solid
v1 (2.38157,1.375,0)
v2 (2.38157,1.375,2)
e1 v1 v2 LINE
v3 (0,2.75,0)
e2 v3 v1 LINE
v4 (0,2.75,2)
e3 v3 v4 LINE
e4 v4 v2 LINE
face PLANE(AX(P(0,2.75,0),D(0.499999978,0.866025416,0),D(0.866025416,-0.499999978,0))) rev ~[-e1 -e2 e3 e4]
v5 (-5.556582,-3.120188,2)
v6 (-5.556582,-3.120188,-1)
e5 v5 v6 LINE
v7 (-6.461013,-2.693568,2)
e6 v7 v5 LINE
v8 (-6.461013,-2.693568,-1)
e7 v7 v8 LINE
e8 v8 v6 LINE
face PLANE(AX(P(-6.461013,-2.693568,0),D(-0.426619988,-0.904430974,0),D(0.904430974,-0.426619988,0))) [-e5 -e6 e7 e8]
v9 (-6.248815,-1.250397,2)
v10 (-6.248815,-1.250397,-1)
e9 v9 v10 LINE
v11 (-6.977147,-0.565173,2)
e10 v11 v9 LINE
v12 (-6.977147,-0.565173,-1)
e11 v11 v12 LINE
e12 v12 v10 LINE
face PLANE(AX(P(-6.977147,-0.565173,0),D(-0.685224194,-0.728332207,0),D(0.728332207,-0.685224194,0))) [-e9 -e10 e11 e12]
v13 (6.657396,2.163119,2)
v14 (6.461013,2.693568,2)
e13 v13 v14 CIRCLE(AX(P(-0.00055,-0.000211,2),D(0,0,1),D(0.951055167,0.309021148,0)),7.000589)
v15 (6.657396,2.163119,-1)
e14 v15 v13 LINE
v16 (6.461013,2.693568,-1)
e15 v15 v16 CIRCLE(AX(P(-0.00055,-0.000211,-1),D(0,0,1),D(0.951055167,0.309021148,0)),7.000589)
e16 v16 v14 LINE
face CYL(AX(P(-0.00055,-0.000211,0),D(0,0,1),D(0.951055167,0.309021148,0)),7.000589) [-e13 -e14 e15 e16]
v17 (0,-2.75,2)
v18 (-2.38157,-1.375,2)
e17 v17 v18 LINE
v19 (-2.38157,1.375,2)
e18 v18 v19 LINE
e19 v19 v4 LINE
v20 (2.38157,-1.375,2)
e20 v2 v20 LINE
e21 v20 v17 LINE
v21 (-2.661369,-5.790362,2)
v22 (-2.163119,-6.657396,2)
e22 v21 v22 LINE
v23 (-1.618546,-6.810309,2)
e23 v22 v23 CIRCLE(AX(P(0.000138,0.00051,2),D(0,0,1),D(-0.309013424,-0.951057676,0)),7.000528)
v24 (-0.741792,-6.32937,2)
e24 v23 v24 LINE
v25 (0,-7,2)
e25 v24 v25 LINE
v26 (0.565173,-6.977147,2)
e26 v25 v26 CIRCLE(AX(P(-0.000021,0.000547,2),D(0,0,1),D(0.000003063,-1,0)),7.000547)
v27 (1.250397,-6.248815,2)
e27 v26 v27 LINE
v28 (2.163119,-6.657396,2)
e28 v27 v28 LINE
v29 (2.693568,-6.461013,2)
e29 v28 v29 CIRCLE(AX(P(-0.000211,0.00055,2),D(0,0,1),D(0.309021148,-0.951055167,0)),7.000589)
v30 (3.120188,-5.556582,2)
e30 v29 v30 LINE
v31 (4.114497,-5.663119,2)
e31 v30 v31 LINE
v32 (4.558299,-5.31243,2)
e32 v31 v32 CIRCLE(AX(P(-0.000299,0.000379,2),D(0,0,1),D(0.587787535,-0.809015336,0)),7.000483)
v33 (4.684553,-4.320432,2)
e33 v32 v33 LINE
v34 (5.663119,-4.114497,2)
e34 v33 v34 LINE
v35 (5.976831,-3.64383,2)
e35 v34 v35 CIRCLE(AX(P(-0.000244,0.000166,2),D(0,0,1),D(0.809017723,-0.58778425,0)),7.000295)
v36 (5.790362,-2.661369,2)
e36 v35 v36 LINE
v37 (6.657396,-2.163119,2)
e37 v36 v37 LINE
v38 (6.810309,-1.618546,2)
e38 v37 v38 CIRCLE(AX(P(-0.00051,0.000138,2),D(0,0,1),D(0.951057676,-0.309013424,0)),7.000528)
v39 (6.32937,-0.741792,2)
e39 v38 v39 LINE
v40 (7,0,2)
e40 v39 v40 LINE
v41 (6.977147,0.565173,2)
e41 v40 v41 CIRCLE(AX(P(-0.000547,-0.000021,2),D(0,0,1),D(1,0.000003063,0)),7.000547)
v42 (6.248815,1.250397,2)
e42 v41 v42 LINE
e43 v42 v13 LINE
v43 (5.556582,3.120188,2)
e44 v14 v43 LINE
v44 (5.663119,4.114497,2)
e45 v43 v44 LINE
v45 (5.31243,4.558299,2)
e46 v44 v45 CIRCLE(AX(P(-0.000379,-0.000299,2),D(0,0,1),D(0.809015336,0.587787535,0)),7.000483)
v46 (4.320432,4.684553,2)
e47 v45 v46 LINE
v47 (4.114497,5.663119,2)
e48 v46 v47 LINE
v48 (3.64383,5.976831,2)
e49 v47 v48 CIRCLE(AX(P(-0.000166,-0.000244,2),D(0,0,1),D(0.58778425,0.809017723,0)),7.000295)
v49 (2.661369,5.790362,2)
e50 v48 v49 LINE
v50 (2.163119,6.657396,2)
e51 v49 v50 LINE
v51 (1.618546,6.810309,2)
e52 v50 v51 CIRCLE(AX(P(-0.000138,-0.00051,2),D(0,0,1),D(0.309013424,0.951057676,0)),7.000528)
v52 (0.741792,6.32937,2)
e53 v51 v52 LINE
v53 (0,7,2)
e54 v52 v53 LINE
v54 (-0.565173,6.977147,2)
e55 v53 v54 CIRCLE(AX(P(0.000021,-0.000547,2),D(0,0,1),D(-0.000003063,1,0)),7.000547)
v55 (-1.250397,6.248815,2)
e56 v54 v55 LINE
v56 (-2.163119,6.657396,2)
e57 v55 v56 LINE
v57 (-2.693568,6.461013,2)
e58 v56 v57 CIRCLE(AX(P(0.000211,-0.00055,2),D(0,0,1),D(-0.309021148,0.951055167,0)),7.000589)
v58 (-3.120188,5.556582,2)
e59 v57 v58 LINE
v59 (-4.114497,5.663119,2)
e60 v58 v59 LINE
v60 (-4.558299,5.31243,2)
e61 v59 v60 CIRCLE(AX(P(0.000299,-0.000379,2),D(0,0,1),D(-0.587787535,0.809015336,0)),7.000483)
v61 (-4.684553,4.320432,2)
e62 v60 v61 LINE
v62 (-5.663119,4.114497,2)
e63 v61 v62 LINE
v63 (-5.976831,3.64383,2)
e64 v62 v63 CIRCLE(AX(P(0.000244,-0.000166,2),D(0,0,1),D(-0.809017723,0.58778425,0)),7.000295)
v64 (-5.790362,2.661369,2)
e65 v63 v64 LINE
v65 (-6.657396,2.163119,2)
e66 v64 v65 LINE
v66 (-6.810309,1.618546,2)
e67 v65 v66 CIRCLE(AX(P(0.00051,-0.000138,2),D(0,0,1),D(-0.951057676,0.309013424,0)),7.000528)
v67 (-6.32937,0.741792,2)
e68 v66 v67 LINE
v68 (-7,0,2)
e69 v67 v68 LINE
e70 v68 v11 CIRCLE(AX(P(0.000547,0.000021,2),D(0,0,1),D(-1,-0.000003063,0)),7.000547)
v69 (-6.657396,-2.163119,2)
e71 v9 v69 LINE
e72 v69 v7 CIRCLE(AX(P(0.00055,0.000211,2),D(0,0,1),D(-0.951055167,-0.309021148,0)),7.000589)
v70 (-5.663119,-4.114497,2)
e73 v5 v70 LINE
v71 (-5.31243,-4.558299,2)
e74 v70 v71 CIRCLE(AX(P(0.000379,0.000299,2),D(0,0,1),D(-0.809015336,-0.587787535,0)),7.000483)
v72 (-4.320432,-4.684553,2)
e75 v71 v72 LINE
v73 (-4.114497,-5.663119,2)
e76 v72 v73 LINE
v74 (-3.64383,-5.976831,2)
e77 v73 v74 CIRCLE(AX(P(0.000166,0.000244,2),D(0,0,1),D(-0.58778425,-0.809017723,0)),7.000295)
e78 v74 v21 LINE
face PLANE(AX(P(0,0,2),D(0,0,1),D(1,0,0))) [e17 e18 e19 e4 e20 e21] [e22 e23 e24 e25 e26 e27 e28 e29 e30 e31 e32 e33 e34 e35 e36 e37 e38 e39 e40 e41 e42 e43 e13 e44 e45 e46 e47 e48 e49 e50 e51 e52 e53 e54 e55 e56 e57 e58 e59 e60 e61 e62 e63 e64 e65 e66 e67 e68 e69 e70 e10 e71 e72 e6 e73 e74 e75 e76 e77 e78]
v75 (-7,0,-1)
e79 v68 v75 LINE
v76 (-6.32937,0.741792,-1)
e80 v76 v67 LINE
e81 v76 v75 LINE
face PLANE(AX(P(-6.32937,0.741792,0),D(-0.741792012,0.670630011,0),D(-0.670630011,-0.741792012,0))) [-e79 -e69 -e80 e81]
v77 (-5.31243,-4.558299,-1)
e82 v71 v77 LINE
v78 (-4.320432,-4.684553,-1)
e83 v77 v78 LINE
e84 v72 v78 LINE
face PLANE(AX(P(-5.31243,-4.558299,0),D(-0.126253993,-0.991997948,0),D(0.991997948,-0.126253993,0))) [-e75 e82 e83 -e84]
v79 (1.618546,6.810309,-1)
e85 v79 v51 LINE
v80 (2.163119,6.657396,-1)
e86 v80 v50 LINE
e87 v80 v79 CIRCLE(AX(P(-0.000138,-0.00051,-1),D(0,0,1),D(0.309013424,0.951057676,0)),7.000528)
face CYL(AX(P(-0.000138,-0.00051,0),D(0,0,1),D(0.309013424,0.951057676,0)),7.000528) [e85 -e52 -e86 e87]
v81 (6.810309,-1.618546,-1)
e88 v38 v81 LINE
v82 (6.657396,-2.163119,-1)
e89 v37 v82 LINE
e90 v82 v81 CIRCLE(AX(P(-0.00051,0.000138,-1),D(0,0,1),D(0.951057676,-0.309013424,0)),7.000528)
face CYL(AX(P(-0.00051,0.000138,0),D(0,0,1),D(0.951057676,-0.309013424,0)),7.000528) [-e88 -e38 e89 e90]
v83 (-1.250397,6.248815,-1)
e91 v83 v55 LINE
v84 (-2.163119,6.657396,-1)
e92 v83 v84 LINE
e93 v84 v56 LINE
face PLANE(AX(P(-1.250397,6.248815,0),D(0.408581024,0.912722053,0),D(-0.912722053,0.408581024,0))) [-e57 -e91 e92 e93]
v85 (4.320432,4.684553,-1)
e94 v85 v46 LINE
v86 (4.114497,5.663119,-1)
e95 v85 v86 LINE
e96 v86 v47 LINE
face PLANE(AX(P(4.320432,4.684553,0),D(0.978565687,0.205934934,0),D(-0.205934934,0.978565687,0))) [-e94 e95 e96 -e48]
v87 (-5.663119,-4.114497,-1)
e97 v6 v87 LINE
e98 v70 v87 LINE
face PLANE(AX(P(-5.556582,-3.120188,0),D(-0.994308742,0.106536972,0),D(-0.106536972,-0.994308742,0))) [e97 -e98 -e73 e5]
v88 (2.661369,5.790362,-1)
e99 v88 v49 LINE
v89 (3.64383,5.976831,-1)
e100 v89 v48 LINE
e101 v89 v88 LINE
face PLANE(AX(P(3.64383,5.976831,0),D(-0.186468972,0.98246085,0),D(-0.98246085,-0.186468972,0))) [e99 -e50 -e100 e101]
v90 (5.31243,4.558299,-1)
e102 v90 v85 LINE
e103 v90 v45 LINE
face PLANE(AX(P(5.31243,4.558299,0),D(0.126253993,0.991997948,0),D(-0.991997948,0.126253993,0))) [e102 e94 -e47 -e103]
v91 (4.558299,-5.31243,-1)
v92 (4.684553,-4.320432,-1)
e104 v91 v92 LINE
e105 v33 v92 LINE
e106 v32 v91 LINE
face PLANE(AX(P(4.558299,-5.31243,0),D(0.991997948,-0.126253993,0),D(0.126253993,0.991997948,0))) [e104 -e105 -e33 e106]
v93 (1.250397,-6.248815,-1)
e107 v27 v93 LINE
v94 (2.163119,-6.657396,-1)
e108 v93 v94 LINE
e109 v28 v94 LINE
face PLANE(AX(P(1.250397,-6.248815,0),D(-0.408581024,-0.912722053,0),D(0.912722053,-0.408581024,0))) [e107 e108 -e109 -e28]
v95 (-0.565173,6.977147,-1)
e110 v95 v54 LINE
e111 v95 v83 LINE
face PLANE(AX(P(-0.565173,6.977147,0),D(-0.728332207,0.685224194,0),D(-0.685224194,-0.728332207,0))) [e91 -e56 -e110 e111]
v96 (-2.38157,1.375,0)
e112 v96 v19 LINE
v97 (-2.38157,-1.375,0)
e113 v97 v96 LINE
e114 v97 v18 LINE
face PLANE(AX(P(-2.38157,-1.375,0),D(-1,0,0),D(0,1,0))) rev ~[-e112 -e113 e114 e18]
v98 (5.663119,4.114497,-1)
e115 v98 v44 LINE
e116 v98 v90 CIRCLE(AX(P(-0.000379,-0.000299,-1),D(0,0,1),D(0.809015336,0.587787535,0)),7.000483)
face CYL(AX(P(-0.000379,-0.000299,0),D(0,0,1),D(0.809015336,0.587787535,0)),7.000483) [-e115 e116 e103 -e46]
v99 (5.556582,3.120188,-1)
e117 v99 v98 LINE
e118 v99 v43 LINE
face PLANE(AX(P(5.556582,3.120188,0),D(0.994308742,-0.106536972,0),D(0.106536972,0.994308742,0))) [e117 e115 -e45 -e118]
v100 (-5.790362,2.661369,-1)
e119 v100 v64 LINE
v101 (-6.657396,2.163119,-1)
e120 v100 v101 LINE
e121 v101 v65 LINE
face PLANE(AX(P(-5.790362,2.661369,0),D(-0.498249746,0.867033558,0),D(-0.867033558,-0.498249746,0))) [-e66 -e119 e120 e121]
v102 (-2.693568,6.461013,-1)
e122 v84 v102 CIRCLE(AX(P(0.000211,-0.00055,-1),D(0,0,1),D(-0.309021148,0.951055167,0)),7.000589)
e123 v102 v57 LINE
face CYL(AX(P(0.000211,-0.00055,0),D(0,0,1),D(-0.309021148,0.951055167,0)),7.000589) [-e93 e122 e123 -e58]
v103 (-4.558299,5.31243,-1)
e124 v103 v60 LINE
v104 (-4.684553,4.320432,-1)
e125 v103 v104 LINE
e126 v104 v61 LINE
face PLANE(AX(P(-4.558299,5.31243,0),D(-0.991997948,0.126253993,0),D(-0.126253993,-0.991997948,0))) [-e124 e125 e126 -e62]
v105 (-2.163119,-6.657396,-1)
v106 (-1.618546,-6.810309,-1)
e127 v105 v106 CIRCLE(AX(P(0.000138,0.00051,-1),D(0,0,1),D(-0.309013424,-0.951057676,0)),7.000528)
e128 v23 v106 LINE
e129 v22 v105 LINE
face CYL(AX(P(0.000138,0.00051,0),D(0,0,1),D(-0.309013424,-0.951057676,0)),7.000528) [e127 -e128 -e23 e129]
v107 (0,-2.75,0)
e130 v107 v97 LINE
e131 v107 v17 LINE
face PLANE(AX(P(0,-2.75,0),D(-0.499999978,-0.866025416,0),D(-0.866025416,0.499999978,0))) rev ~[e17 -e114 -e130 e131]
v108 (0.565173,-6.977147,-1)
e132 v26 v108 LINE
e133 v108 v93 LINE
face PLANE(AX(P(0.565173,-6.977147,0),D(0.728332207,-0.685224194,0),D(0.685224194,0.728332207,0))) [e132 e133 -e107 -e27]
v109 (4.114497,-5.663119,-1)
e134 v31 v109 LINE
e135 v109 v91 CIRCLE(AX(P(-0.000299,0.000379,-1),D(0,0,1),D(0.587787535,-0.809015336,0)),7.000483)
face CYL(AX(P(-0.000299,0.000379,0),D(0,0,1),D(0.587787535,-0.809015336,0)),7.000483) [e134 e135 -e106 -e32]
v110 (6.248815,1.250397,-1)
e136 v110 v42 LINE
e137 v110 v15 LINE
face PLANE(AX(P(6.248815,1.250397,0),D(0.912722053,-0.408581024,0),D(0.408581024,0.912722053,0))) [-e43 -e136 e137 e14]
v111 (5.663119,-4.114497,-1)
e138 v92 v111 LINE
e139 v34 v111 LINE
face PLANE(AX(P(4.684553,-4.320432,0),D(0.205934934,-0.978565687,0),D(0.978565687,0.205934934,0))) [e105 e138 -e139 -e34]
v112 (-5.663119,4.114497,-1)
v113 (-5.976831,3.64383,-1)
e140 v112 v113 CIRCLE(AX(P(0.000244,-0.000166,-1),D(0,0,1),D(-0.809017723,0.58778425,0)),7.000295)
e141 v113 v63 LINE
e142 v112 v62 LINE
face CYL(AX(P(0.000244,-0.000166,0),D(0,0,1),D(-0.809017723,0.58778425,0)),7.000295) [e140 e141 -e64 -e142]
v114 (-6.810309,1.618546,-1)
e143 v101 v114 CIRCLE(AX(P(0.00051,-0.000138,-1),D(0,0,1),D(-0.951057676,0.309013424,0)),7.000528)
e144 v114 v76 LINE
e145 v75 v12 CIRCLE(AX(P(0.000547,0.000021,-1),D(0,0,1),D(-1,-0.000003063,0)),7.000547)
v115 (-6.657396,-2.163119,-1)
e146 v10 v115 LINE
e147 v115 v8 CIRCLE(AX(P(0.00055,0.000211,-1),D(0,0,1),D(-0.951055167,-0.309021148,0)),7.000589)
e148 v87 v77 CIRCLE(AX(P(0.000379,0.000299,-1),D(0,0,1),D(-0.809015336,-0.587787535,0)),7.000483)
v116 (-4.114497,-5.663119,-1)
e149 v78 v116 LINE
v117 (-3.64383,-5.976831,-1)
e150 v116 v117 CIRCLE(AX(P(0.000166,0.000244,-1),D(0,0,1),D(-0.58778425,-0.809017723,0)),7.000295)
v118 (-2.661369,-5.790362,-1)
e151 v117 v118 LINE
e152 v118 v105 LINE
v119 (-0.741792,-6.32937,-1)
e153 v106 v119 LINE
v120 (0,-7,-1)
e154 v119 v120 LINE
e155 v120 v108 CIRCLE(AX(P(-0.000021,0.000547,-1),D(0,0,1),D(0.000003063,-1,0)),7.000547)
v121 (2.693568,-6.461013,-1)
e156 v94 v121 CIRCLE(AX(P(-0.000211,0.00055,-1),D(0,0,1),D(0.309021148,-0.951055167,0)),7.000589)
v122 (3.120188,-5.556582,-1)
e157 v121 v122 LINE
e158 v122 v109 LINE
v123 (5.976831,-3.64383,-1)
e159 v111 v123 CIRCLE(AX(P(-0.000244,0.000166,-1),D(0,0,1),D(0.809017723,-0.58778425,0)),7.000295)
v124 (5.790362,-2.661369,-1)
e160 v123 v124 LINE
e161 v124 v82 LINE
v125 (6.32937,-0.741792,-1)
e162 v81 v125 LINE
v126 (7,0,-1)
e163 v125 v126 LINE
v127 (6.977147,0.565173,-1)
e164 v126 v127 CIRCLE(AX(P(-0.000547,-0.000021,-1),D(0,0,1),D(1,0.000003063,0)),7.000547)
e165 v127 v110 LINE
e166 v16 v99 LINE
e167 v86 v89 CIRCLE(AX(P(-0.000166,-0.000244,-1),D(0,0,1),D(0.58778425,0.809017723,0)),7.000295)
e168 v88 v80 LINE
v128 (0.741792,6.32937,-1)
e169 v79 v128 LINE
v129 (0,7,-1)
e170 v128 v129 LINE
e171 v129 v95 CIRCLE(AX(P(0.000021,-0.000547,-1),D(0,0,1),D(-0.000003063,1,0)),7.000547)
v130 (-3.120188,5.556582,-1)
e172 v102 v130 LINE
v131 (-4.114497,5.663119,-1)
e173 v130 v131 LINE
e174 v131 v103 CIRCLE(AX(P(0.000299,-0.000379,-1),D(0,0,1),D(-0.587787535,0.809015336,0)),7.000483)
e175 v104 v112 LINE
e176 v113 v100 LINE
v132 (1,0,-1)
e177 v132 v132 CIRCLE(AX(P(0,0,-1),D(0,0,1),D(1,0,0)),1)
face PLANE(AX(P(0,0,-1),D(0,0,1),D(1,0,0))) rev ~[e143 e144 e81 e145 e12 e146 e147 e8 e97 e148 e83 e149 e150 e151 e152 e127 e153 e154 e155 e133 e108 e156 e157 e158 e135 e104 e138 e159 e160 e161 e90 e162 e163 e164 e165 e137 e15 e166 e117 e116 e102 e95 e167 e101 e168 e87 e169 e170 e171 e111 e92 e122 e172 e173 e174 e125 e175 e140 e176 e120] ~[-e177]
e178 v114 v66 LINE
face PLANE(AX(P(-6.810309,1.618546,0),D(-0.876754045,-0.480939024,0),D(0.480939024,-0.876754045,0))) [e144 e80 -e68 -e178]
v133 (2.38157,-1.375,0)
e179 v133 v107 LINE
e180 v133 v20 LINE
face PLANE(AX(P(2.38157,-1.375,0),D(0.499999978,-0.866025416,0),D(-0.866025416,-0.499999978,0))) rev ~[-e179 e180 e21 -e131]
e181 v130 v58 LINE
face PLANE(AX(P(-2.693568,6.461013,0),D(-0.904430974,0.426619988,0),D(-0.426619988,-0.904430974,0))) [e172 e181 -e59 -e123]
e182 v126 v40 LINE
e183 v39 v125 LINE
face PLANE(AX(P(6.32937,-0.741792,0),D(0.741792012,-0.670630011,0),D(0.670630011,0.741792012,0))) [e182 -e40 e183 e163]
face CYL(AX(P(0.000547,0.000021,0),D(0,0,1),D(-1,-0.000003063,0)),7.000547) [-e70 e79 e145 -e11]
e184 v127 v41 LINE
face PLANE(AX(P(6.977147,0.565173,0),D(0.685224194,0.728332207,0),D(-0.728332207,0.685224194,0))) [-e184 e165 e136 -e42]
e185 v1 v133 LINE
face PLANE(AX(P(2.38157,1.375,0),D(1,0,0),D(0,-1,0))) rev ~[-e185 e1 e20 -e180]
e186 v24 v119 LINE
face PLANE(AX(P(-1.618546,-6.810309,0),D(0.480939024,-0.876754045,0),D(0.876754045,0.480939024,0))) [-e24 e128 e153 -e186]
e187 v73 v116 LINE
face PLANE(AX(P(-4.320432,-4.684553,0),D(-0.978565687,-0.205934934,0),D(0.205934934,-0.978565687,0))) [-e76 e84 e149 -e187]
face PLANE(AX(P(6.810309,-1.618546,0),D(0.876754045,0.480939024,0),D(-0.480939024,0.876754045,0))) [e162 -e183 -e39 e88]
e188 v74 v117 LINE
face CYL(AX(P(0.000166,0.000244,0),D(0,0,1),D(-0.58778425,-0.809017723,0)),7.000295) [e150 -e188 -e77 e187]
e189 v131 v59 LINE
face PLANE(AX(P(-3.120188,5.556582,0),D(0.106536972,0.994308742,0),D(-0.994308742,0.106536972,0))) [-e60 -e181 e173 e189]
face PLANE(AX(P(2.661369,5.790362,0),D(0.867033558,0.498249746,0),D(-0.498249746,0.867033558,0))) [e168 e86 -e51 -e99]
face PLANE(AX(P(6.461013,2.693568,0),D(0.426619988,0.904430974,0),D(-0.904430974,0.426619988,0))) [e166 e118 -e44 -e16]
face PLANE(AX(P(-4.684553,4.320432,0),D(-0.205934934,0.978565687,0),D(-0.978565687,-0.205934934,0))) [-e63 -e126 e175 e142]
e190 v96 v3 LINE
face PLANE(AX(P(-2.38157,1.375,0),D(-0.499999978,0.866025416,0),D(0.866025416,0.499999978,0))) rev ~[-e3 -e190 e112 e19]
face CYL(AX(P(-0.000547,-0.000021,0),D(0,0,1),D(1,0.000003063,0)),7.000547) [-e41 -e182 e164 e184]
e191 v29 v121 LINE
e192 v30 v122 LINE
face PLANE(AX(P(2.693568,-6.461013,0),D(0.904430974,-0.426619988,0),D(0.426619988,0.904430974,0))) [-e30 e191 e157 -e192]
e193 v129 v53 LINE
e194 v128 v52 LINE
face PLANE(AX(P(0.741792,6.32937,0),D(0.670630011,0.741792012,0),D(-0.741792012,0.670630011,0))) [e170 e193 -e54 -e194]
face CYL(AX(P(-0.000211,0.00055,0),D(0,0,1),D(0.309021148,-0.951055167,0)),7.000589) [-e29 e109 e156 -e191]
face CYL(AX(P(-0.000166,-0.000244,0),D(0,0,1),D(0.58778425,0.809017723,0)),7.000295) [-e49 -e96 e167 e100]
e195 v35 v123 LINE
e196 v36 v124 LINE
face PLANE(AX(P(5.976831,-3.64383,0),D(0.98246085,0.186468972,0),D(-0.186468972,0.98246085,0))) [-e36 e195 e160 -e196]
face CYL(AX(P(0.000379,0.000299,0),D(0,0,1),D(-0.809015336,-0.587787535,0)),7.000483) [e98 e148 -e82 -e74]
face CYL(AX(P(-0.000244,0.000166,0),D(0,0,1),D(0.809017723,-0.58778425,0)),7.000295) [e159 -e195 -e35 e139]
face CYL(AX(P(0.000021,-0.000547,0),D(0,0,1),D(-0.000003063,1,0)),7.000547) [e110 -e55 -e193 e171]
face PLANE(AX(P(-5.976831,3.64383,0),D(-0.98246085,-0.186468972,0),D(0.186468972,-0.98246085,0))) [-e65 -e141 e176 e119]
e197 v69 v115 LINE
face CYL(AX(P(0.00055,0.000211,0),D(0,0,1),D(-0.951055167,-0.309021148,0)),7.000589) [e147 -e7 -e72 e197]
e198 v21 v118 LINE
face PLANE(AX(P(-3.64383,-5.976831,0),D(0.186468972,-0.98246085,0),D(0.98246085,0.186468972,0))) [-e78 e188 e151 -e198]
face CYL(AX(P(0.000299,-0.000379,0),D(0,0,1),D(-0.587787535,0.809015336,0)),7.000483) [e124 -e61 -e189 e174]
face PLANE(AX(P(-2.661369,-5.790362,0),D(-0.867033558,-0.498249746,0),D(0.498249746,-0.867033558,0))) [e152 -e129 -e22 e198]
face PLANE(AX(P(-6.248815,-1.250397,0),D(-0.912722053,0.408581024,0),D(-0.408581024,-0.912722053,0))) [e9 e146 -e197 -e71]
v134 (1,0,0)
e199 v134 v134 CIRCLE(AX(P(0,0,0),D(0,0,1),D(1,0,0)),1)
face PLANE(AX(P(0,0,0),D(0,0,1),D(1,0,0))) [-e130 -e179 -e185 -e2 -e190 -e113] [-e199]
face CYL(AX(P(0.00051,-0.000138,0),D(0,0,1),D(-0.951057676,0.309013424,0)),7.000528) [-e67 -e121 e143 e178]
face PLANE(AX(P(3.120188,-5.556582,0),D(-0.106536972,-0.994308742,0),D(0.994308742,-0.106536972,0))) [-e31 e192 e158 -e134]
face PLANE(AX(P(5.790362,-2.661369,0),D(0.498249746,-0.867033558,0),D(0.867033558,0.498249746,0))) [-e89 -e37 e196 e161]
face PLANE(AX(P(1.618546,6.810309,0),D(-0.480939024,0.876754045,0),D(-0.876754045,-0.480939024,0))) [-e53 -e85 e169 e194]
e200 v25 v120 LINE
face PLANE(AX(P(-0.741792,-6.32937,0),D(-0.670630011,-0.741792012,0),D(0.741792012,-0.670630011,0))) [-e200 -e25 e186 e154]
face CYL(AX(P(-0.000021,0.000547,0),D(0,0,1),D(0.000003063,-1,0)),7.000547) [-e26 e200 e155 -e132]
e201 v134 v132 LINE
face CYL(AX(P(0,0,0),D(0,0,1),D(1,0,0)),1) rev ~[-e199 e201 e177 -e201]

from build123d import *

# Parameters (mm, degrees)
F1_DEPTH = 2
F0_R     = 1
F2_DEPTH = 1


with BuildPart() as f1:
    # F0 (on Top) → F1 (new body)
    with BuildSketch(Plane.XY):
        with BuildLine():
            Line((6.32937, -0.741792), (7, 0))
            ThreePointArc((7, 0), (6.994284, 0.282817), (6.977147, 0.565173))
            Line((6.977147, 0.565173), (6.248815, 1.250397))
            Line((6.248815, 1.250397), (6.657396, 2.163119))
            ThreePointArc((6.657396, 2.163119), (6.564564, 2.430328), (6.461013, 2.693568))
            Line((6.461013, 2.693568), (5.556582, 3.120188))
            Line((5.556582, 3.120188), (5.663119, 4.114497))
            ThreePointArc((5.663119, 4.114497), (5.492259, 4.339941), (5.31243, 4.558299))
            Line((5.31243, 4.558299), (4.320432, 4.684553))
            Line((4.320432, 4.684553), (4.114497, 5.663119))
            ThreePointArc((4.114497, 5.663119), (3.882333, 5.824731), (3.64383, 5.976831))
            Line((3.64383, 5.976831), (2.661369, 5.790362))
            Line((2.661369, 5.790362), (2.163119, 6.657396))
            ThreePointArc((2.163119, 6.657396), (1.892377, 6.739355), (1.618546, 6.810309))
            Line((1.618546, 6.810309), (0.741792, 6.32937))
            Line((0.741792, 6.32937), (0, 7))
            ThreePointArc((0, 7), (-0.282817, 6.994284), (-0.565173, 6.977147))
            Line((-0.565173, 6.977147), (-1.250397, 6.248815))
            Line((-1.250397, 6.248815), (-2.163119, 6.657396))
            ThreePointArc((-2.163119, 6.657396), (-2.430328, 6.564564), (-2.693568, 6.461013))
            Line((-2.693568, 6.461013), (-3.120188, 5.556582))
            Line((-3.120188, 5.556582), (-4.114497, 5.663119))
            ThreePointArc((-4.114497, 5.663119), (-4.339941, 5.492259), (-4.558299, 5.31243))
            Line((-4.558299, 5.31243), (-4.684553, 4.320432))
            Line((-4.684553, 4.320432), (-5.663119, 4.114497))
            ThreePointArc((-5.663119, 4.114497), (-5.824731, 3.882333), (-5.976831, 3.64383))
            Line((-5.976831, 3.64383), (-5.790362, 2.661369))
            Line((-5.790362, 2.661369), (-6.657396, 2.163119))
            ThreePointArc((-6.657396, 2.163119), (-6.739355, 1.892377), (-6.810309, 1.618546))
            Line((-6.810309, 1.618546), (-6.32937, 0.741792))
            Line((-6.32937, 0.741792), (-7, 0))
            ThreePointArc((-7, 0), (-6.994284, -0.282817), (-6.977147, -0.565173))
            Line((-6.977147, -0.565173), (-6.248815, -1.250397))
            Line((-6.248815, -1.250397), (-6.657396, -2.163119))
            ThreePointArc((-6.657396, -2.163119), (-6.564564, -2.430328), (-6.461013, -2.693568))
            Line((-6.461013, -2.693568), (-5.556582, -3.120188))
            Line((-5.556582, -3.120188), (-5.663119, -4.114497))
            ThreePointArc((-5.663119, -4.114497), (-5.492259, -4.339941), (-5.31243, -4.558299))
            Line((-5.31243, -4.558299), (-4.320432, -4.684553))
            Line((-4.320432, -4.684553), (-4.114497, -5.663119))
            ThreePointArc((-4.114497, -5.663119), (-3.882333, -5.824731), (-3.64383, -5.976831))
            Line((-3.64383, -5.976831), (-2.661369, -5.790362))
            Line((-2.661369, -5.790362), (-2.163119, -6.657396))
            ThreePointArc((-2.163119, -6.657396), (-1.892377, -6.739355), (-1.618546, -6.810309))
            Line((-1.618546, -6.810309), (-0.741792, -6.32937))
            Line((-0.741792, -6.32937), (0, -7))
            ThreePointArc((0, -7), (0.282817, -6.994284), (0.565173, -6.977147))
            Line((0.565173, -6.977147), (1.250397, -6.248815))
            Line((1.250397, -6.248815), (2.163119, -6.657396))
            ThreePointArc((2.163119, -6.657396), (2.430328, -6.564564), (2.693568, -6.461013))
            Line((2.693568, -6.461013), (3.120188, -5.556582))
            Line((3.120188, -5.556582), (4.114497, -5.663119))
            ThreePointArc((4.114497, -5.663119), (4.339941, -5.492259), (4.558299, -5.31243))
            Line((4.558299, -5.31243), (4.684553, -4.320432))
            Line((4.684553, -4.320432), (5.663119, -4.114497))
            ThreePointArc((5.663119, -4.114497), (5.824731, -3.882333), (5.976831, -3.64383))
            Line((5.976831, -3.64383), (5.790362, -2.661369))
            Line((5.790362, -2.661369), (6.657396, -2.163119))
            ThreePointArc((6.657396, -2.163119), (6.739355, -1.892377), (6.810309, -1.618546))
            Line((6.810309, -1.618546), (6.32937, -0.741792))
        make_face()
        Polygon((2.38157, -1.375), (0, -2.75), (-2.38157, -1.375), (-2.38157, 1.375), (0, 2.75), (2.38157, 1.375), align=None, mode=Mode.SUBTRACT)
    extrude(amount=F1_DEPTH)

    # F0 (on Top) → F2 (join)
    with BuildSketch(Plane.XY):
        with BuildLine():
            Line((6.32937, -0.741792), (7, 0))
            ThreePointArc((7, 0), (6.994284, 0.282817), (6.977147, 0.565173))
            Line((6.977147, 0.565173), (6.248815, 1.250397))
            Line((6.248815, 1.250397), (6.657396, 2.163119))
            ThreePointArc((6.657396, 2.163119), (6.564564, 2.430328), (6.461013, 2.693568))
            Line((6.461013, 2.693568), (5.556582, 3.120188))
            Line((5.556582, 3.120188), (5.663119, 4.114497))
            ThreePointArc((5.663119, 4.114497), (5.492259, 4.339941), (5.31243, 4.558299))
            Line((5.31243, 4.558299), (4.320432, 4.684553))
            Line((4.320432, 4.684553), (4.114497, 5.663119))
            ThreePointArc((4.114497, 5.663119), (3.882333, 5.824731), (3.64383, 5.976831))
            Line((3.64383, 5.976831), (2.661369, 5.790362))
            Line((2.661369, 5.790362), (2.163119, 6.657396))
            ThreePointArc((2.163119, 6.657396), (1.892377, 6.739355), (1.618546, 6.810309))
            Line((1.618546, 6.810309), (0.741792, 6.32937))
            Line((0.741792, 6.32937), (0, 7))
            ThreePointArc((0, 7), (-0.282817, 6.994284), (-0.565173, 6.977147))
            Line((-0.565173, 6.977147), (-1.250397, 6.248815))
            Line((-1.250397, 6.248815), (-2.163119, 6.657396))
            ThreePointArc((-2.163119, 6.657396), (-2.430328, 6.564564), (-2.693568, 6.461013))
            Line((-2.693568, 6.461013), (-3.120188, 5.556582))
            Line((-3.120188, 5.556582), (-4.114497, 5.663119))
            ThreePointArc((-4.114497, 5.663119), (-4.339941, 5.492259), (-4.558299, 5.31243))
            Line((-4.558299, 5.31243), (-4.684553, 4.320432))
            Line((-4.684553, 4.320432), (-5.663119, 4.114497))
            ThreePointArc((-5.663119, 4.114497), (-5.824731, 3.882333), (-5.976831, 3.64383))
            Line((-5.976831, 3.64383), (-5.790362, 2.661369))
            Line((-5.790362, 2.661369), (-6.657396, 2.163119))
            ThreePointArc((-6.657396, 2.163119), (-6.739355, 1.892377), (-6.810309, 1.618546))
            Line((-6.810309, 1.618546), (-6.32937, 0.741792))
            Line((-6.32937, 0.741792), (-7, 0))
            ThreePointArc((-7, 0), (-6.994284, -0.282817), (-6.977147, -0.565173))
            Line((-6.977147, -0.565173), (-6.248815, -1.250397))
            Line((-6.248815, -1.250397), (-6.657396, -2.163119))
            ThreePointArc((-6.657396, -2.163119), (-6.564564, -2.430328), (-6.461013, -2.693568))
            Line((-6.461013, -2.693568), (-5.556582, -3.120188))
            Line((-5.556582, -3.120188), (-5.663119, -4.114497))
            ThreePointArc((-5.663119, -4.114497), (-5.492259, -4.339941), (-5.31243, -4.558299))
            Line((-5.31243, -4.558299), (-4.320432, -4.684553))
            Line((-4.320432, -4.684553), (-4.114497, -5.663119))
            ThreePointArc((-4.114497, -5.663119), (-3.882333, -5.824731), (-3.64383, -5.976831))
            Line((-3.64383, -5.976831), (-2.661369, -5.790362))
            Line((-2.661369, -5.790362), (-2.163119, -6.657396))
            ThreePointArc((-2.163119, -6.657396), (-1.892377, -6.739355), (-1.618546, -6.810309))
            Line((-1.618546, -6.810309), (-0.741792, -6.32937))
            Line((-0.741792, -6.32937), (0, -7))
            ThreePointArc((0, -7), (0.282817, -6.994284), (0.565173, -6.977147))
            Line((0.565173, -6.977147), (1.250397, -6.248815))
            Line((1.250397, -6.248815), (2.163119, -6.657396))
            ThreePointArc((2.163119, -6.657396), (2.430328, -6.564564), (2.693568, -6.461013))
            Line((2.693568, -6.461013), (3.120188, -5.556582))
            Line((3.120188, -5.556582), (4.114497, -5.663119))
            ThreePointArc((4.114497, -5.663119), (4.339941, -5.492259), (4.558299, -5.31243))
            Line((4.558299, -5.31243), (4.684553, -4.320432))
            Line((4.684553, -4.320432), (5.663119, -4.114497))
            ThreePointArc((5.663119, -4.114497), (5.824731, -3.882333), (5.976831, -3.64383))
            Line((5.976831, -3.64383), (5.790362, -2.661369))
            Line((5.790362, -2.661369), (6.657396, -2.163119))
            ThreePointArc((6.657396, -2.163119), (6.739355, -1.892377), (6.810309, -1.618546))
            Line((6.810309, -1.618546), (6.32937, -0.741792))
        make_face()
        Polygon((2.38157, -1.375), (0, -2.75), (-2.38157, -1.375), (-2.38157, 1.375), (0, 2.75), (2.38157, 1.375), align=None, mode=Mode.SUBTRACT)
        Polygon((-2.38157, -1.375), (0, -2.75), (2.38157, -1.375), (2.38157, 1.375), (0, 2.75), (-2.38157, 1.375), align=None)
        Circle(F0_R, mode=Mode.SUBTRACT)
    extrude(amount=-F2_DEPTH)


solid = f1.part
